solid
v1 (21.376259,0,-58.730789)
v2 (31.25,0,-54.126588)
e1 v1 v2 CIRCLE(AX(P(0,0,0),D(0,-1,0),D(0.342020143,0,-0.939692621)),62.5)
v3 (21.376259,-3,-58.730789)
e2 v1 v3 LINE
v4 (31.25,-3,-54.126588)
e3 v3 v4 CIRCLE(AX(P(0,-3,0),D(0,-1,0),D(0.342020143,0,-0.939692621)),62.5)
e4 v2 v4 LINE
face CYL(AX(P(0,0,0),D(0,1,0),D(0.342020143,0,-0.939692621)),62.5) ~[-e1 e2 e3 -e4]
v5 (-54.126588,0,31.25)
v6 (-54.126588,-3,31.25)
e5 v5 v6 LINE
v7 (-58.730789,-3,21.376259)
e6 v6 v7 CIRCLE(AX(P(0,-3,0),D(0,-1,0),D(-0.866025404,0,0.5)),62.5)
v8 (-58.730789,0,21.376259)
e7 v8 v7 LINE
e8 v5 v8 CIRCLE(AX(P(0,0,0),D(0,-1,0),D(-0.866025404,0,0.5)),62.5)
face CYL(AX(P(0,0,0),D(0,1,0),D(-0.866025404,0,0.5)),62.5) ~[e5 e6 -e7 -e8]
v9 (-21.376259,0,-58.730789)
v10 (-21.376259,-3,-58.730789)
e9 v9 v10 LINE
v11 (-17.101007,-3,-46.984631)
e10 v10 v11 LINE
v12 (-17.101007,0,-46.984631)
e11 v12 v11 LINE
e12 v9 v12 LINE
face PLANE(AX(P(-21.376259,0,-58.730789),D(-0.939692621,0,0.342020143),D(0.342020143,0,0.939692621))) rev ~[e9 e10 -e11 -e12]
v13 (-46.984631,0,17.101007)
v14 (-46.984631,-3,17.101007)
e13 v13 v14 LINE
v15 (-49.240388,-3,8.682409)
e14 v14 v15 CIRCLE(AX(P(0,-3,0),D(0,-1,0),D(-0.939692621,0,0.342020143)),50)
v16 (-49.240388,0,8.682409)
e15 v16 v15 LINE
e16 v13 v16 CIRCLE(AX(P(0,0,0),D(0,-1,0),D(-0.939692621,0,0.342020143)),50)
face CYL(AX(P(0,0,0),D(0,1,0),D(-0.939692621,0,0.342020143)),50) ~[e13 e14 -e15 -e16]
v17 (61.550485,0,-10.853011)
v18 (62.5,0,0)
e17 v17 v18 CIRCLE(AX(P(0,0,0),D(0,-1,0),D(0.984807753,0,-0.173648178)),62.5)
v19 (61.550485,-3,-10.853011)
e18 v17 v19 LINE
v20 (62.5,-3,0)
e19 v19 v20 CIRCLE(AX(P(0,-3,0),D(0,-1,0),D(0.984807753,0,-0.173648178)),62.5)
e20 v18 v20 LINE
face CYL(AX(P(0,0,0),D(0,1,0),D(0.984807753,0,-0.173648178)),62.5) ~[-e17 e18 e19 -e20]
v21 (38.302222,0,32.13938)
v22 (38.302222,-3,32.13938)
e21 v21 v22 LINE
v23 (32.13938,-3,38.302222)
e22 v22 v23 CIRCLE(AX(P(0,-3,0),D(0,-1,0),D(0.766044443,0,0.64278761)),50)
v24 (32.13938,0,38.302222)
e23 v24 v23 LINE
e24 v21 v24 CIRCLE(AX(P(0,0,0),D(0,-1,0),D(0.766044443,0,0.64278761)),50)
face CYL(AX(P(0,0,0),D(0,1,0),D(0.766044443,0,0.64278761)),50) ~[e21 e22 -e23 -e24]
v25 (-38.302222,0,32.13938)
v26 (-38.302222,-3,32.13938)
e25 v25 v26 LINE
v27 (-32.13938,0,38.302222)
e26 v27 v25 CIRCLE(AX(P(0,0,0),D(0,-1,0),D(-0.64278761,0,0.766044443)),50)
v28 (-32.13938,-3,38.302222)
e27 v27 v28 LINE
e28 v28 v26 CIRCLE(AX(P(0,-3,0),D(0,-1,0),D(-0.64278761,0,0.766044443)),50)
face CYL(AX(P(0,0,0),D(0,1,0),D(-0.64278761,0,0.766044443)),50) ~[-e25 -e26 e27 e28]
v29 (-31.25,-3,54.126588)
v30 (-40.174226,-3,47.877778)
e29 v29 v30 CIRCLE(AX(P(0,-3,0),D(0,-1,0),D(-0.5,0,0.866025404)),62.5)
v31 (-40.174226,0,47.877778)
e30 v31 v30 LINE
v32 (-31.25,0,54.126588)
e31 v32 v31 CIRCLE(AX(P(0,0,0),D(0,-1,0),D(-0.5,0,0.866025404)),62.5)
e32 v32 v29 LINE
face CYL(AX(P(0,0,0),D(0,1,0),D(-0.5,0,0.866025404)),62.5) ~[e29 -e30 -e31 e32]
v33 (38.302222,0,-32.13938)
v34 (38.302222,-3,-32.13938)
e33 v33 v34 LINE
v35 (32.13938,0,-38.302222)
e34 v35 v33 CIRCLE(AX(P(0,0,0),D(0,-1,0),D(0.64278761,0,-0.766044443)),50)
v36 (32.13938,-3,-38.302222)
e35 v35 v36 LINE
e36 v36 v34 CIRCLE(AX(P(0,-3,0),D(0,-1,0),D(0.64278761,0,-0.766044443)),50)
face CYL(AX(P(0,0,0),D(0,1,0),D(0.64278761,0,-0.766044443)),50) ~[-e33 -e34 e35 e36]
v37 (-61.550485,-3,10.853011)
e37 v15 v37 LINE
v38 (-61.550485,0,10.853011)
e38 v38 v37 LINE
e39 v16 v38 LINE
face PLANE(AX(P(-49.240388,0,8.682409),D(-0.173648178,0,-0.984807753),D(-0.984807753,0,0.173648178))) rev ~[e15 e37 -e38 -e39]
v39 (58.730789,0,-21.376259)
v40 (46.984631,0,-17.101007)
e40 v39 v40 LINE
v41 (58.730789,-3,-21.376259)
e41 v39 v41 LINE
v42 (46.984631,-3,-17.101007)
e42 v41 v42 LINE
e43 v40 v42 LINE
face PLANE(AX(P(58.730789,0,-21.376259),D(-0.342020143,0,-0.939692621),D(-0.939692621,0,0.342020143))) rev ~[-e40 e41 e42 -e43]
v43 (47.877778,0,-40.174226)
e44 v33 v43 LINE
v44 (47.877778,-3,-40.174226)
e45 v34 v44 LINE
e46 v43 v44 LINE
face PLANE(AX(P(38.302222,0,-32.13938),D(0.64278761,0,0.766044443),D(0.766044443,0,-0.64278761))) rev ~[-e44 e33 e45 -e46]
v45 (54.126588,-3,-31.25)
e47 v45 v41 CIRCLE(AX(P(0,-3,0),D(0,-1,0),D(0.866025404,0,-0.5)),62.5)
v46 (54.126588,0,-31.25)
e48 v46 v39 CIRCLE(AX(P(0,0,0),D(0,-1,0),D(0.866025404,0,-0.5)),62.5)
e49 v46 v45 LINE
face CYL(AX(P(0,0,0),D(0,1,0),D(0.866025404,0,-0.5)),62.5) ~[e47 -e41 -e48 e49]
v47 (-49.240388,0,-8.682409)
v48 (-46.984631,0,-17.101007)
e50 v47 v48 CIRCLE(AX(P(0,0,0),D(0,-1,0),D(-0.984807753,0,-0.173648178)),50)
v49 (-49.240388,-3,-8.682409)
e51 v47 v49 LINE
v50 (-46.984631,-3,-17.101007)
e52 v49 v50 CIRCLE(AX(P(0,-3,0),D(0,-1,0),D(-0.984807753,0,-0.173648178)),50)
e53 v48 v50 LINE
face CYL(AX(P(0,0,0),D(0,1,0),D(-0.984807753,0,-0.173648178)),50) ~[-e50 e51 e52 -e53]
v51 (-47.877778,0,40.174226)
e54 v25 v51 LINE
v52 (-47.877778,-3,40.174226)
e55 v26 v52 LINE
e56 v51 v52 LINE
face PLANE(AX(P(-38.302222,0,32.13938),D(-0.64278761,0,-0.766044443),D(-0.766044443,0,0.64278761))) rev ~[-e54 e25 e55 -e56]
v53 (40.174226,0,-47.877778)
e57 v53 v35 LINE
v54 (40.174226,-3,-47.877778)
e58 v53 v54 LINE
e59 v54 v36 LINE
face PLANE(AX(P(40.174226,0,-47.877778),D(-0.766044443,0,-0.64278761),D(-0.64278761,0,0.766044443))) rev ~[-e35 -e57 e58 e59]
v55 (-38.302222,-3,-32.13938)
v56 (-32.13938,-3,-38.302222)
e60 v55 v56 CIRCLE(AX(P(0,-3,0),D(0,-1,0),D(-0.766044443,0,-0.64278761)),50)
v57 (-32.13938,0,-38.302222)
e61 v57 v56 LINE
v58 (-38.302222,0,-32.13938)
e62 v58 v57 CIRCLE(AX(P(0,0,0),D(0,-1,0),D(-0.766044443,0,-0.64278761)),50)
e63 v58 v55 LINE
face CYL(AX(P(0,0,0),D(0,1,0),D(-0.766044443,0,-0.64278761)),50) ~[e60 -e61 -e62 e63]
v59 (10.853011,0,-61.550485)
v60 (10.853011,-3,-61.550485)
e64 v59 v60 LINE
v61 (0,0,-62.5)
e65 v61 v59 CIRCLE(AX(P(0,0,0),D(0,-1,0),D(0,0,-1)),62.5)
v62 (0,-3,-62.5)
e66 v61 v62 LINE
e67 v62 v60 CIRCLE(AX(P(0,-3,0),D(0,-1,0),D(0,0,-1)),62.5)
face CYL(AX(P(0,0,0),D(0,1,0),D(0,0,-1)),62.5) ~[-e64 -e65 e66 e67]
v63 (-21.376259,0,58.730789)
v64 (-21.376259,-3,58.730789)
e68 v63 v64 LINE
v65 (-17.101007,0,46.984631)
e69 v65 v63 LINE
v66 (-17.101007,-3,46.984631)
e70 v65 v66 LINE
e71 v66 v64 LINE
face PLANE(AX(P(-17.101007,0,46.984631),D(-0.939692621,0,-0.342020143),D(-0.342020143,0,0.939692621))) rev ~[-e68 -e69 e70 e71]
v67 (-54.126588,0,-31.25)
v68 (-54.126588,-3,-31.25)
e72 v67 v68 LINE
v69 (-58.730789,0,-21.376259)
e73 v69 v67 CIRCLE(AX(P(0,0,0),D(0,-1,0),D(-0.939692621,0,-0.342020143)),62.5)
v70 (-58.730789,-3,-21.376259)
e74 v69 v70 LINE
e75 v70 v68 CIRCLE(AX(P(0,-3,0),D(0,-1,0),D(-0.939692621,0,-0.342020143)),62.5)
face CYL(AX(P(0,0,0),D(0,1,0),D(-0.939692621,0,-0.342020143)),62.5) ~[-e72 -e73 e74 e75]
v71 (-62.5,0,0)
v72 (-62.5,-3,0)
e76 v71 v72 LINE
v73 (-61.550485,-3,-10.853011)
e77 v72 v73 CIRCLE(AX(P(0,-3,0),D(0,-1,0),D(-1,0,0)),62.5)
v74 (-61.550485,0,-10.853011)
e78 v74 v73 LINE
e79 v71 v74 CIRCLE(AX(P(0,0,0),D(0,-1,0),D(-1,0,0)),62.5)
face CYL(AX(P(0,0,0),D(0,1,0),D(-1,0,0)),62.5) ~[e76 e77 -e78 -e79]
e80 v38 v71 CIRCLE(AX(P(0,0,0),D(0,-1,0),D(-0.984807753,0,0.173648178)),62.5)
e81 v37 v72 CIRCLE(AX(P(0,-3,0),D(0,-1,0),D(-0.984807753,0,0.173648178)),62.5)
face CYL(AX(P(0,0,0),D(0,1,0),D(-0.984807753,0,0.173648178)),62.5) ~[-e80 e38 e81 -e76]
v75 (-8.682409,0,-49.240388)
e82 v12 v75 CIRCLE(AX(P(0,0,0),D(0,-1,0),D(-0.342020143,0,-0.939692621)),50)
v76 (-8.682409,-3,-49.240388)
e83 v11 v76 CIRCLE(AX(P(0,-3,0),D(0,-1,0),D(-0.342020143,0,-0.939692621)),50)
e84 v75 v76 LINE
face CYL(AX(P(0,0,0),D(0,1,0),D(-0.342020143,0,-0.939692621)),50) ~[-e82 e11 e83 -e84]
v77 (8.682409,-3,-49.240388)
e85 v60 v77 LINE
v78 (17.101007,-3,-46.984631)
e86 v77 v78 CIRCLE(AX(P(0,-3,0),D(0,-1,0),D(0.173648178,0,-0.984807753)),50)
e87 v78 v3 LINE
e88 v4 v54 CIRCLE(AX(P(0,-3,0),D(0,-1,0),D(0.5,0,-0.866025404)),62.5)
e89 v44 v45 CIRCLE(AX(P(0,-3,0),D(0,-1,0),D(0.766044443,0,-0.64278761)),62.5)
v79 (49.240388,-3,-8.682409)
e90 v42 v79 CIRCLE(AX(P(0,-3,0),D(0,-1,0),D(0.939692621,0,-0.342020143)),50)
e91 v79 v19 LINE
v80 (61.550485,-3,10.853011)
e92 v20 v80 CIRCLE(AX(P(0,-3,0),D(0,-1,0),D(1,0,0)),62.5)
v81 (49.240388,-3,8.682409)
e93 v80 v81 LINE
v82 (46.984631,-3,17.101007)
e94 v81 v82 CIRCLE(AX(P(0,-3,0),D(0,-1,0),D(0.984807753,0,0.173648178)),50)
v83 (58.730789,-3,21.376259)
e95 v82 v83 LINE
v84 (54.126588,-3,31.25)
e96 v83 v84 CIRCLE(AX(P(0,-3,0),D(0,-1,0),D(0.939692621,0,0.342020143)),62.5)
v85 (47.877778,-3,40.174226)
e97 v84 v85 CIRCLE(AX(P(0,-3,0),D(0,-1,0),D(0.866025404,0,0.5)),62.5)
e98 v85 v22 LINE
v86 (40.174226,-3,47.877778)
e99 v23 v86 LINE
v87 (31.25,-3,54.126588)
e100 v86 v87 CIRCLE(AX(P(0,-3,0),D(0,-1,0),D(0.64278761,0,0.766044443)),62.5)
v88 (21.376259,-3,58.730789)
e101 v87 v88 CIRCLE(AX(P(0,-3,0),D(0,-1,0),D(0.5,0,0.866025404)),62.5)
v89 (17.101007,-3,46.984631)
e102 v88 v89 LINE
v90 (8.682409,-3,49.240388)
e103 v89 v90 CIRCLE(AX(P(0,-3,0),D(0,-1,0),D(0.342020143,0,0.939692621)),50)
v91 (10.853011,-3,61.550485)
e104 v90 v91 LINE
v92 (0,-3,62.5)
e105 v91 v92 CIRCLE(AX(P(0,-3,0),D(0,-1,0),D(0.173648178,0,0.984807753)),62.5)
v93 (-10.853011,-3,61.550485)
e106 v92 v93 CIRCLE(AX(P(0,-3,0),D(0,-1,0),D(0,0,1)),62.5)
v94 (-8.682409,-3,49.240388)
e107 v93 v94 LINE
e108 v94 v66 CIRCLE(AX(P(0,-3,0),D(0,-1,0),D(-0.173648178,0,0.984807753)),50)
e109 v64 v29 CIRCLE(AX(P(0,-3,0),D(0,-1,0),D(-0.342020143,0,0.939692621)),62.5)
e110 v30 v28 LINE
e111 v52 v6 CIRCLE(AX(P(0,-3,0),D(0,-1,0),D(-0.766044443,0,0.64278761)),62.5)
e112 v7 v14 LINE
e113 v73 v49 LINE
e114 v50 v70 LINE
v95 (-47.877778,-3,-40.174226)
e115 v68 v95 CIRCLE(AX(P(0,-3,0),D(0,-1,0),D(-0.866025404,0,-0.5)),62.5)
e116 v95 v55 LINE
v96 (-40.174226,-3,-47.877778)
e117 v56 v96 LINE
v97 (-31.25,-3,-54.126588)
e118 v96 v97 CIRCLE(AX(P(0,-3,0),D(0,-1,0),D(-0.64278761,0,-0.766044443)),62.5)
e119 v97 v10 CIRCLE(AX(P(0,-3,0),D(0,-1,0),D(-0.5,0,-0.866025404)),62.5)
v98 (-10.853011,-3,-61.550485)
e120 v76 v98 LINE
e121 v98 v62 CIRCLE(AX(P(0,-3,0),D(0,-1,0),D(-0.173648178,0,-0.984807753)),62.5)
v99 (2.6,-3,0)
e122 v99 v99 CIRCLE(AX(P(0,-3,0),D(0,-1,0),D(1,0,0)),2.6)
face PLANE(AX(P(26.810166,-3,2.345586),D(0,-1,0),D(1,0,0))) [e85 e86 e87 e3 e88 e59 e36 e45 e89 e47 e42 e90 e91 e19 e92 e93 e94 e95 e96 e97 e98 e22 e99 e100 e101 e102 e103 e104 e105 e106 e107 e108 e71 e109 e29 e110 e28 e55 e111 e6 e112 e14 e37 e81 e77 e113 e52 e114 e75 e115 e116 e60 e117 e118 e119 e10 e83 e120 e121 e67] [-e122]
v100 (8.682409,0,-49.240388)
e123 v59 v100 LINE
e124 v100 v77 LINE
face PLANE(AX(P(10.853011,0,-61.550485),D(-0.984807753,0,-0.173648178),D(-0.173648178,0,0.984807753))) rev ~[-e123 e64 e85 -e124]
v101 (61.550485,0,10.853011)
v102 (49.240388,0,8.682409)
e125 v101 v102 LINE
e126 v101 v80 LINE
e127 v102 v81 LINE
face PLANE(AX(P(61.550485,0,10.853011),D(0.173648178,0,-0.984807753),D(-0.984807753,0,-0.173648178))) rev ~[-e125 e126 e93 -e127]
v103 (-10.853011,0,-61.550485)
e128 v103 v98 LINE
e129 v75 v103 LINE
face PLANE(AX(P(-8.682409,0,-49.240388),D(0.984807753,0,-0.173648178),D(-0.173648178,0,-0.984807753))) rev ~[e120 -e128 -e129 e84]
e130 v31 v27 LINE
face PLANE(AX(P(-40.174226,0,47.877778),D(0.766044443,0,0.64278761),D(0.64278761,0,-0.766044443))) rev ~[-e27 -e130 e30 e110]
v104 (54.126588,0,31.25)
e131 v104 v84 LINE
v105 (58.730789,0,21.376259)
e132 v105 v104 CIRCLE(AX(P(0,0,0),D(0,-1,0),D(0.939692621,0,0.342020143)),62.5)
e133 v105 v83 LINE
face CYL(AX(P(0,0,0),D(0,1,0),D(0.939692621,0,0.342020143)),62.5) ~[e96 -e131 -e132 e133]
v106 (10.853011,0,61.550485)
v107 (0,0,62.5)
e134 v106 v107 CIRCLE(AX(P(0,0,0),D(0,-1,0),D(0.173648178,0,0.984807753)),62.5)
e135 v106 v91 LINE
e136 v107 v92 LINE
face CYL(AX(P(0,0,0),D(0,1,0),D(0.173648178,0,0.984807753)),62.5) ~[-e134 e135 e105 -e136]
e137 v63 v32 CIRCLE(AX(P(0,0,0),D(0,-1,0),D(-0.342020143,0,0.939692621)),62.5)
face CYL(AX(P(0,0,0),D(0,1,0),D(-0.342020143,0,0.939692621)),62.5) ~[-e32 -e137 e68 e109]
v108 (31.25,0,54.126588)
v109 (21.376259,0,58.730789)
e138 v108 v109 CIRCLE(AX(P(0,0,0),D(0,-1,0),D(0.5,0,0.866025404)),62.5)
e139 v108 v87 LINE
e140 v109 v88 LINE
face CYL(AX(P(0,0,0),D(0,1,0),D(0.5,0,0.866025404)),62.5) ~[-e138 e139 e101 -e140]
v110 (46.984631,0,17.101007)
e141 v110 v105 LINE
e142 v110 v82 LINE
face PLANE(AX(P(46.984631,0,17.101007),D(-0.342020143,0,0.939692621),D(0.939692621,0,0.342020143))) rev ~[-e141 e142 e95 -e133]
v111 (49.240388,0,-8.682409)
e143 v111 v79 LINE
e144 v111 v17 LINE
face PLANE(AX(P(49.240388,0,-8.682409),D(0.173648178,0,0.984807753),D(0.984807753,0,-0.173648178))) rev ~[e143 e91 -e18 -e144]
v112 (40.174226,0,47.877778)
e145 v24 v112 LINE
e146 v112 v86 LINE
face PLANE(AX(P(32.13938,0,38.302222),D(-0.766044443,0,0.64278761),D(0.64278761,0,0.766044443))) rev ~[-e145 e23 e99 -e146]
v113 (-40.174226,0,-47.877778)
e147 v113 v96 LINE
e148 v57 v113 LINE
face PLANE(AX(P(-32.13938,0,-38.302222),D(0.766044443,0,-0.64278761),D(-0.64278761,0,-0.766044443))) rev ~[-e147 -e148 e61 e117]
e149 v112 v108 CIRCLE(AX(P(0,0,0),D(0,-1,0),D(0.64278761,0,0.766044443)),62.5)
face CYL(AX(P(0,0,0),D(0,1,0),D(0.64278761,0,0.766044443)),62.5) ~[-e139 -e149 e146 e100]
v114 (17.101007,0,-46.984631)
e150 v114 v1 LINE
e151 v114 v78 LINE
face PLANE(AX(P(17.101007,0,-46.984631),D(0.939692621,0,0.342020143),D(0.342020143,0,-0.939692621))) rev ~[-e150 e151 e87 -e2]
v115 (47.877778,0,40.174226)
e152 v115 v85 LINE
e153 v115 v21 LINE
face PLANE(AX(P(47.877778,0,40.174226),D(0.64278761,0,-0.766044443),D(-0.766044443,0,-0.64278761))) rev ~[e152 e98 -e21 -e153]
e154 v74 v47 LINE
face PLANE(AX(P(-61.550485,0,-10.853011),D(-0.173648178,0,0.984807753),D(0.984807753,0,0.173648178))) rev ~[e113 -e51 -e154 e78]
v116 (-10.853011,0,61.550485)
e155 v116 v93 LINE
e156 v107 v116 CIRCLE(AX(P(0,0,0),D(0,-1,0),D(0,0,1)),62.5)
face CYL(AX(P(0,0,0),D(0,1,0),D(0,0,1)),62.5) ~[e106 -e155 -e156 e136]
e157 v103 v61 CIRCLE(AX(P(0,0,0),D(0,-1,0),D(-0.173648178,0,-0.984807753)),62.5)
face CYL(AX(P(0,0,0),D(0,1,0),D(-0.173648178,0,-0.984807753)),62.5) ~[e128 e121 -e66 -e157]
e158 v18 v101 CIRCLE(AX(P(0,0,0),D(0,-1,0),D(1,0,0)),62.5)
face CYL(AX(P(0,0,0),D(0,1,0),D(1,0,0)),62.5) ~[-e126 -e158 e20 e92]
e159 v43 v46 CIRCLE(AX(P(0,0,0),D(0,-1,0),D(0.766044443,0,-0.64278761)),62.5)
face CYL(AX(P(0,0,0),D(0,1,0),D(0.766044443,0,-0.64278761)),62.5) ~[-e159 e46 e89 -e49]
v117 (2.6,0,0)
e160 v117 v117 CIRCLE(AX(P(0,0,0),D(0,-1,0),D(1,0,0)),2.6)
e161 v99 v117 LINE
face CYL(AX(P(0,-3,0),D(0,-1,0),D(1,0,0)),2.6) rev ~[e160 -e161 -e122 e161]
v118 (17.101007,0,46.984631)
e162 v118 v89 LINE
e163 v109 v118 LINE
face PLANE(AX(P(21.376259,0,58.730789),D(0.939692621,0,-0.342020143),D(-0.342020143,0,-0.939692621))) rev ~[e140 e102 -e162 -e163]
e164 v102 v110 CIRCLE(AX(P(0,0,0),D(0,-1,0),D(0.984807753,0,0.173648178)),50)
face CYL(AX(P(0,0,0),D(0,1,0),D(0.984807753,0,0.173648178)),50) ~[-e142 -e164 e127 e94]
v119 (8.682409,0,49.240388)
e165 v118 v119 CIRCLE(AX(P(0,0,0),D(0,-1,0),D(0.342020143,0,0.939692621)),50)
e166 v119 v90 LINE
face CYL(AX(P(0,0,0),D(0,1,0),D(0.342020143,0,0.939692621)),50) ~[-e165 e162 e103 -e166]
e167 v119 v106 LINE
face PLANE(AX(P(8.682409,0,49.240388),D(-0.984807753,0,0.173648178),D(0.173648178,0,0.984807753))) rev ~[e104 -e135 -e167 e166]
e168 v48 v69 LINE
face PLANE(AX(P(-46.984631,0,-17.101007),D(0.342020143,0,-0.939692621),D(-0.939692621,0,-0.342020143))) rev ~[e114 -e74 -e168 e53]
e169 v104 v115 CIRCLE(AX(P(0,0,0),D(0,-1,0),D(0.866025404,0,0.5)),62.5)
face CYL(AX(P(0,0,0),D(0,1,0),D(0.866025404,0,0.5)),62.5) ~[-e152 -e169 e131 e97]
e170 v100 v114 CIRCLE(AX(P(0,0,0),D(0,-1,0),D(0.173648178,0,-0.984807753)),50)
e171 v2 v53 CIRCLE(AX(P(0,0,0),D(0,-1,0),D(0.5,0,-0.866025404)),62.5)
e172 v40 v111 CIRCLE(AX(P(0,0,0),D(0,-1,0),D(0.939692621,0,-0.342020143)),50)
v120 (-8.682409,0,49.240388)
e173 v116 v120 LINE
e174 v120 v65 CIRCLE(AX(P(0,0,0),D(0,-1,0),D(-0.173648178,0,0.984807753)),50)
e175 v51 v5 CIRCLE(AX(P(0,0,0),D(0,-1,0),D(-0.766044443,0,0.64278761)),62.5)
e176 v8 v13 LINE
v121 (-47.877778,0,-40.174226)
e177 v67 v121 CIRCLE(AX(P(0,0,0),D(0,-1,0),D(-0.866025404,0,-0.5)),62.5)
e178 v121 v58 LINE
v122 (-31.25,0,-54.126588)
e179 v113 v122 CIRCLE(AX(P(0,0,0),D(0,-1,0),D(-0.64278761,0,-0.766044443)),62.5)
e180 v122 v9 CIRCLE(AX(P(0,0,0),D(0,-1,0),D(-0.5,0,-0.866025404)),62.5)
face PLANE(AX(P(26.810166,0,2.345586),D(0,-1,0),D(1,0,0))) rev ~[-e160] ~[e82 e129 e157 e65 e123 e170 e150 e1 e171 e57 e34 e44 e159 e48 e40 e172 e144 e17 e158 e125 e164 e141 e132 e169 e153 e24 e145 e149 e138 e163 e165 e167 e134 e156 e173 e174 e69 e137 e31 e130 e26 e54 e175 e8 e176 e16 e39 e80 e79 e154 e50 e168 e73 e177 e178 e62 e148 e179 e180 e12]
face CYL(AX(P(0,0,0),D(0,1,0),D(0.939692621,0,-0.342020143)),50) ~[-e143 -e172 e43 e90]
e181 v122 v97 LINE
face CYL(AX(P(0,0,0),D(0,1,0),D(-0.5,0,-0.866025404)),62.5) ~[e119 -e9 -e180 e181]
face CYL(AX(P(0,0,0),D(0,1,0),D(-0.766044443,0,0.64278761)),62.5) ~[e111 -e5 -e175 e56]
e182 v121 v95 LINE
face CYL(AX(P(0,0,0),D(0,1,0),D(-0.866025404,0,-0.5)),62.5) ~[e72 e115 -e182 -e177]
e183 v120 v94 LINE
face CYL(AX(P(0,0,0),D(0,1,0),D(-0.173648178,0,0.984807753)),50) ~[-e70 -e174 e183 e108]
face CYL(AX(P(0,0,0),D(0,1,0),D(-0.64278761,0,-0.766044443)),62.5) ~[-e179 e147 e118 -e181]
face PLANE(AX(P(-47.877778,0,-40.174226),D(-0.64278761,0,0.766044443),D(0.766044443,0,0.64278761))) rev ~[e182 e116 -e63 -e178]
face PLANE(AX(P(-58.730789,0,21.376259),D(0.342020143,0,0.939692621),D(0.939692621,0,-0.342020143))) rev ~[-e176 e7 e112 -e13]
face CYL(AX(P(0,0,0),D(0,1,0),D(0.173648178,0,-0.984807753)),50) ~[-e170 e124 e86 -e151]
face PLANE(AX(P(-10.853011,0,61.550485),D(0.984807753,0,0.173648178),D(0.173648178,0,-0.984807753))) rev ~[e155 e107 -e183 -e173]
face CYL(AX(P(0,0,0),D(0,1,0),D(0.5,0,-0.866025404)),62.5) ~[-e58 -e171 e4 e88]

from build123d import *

# Parameters (mm, degrees)
F1_DEPTH = 3
F2_R     = 2.6
F3_DEPTH = 3.001


with BuildPart() as f1:
    # F0 (on Front) → F1 (new body)
    with BuildSketch(Plane.XZ):
        with BuildLine():
            Line((0, 0), (50, 0))
            ThreePointArc((50, 0), (49.8097349046, 4.3577871374), (49.2403876506, 8.6824088833))
            Line((49.2403876506, 8.6824088833), (0, 0))
        make_face()
        with BuildLine():
            Line((62.5, 0), (50, 0))
            ThreePointArc((50, 0), (49.8097349046, -4.3577871374), (49.2403876506, -8.6824088833))
            Line((49.2403876506, -8.6824088833), (61.5504845633, -10.8530111042))
            ThreePointArc((61.5504845633, -10.8530111042), (62.2621686307, -5.4472339217), (62.5, 0))
        make_face()
        with BuildLine():
            ThreePointArc((49.2403876506, -8.6824088833), (49.8097349046, -4.3577871374), (50, 0))
            Line((50, 0), (0, 0))
            Line((0, 0), (49.2403876506, -8.6824088833))
        make_face()
        with BuildLine():
            ThreePointArc((49.2403876506, 8.6824088833), (49.8097349046, 4.3577871374), (50, 0))
            Line((50, 0), (62.5, 0))
            ThreePointArc((62.5, 0), (62.2621686307, 5.4472339217), (61.5504845633, 10.8530111042))
            Line((61.5504845633, 10.8530111042), (49.2403876506, 8.6824088833))
        make_face()
        with BuildLine():
            Line((0, 0), (49.2403876506, 8.6824088833))
            ThreePointArc((49.2403876506, 8.6824088833), (48.2962913145, 12.9409522551), (46.9846310393, 17.1010071663))
            Line((46.9846310393, 17.1010071663), (0, 0))
        make_face()
        with BuildLine():
            ThreePointArc((46.9846310393, -17.1010071663), (48.2962913145, -12.9409522551), (49.2403876506, -8.6824088833))
            Line((49.2403876506, -8.6824088833), (0, 0))
            Line((0, 0), (46.9846310393, -17.1010071663))
        make_face()
        with BuildLine():
            Line((-8.6824088833, 49.2403876506), (0, 0))
            Line((0, 0), (0, 50))
            ThreePointArc((0, 50), (-4.3577871374, 49.8097349046), (-8.6824088833, 49.2403876506))
        make_face()
        with BuildLine():
            Line((8.6824088833, -49.2403876506), (0, 0))
            Line((0, 0), (0, -50))
            ThreePointArc((0, -50), (4.3577871374, -49.8097349046), (8.6824088833, -49.2403876506))
        make_face()
        with BuildLine():
            Line((-49.2403876506, -8.6824088833), (0, 0))
            Line((0, 0), (-50, 0))
            ThreePointArc((-50, 0), (-49.8097349046, -4.3577871374), (-49.2403876506, -8.6824088833))
        make_face()
        with BuildLine():
            Line((17.1010071663, 46.9846310393), (0, 0))
            Line((0, 0), (25, 43.3012701892))
            ThreePointArc((25, 43.3012701892), (21.130913087, 45.3153893518), (17.1010071663, 46.9846310393))
        make_face()
        with BuildLine():
            Line((38.3022221559, 32.1393804843), (0, 0))
            Line((0, 0), (43.3012701892, 25))
            ThreePointArc((43.3012701892, 25), (40.9576022144, 28.6788218176), (38.3022221559, 32.1393804843))
        make_face()
        with BuildLine():
            Line((46.9846310393, -17.1010071663), (0, 0))
            Line((0, 0), (43.3012701892, -25))
            ThreePointArc((43.3012701892, -25), (45.3153893518, -21.130913087), (46.9846310393, -17.1010071663))
        make_face()
        with BuildLine():
            Line((32.1393804843, -38.3022221559), (0, 0))
            Line((0, 0), (25, -43.3012701892))
            ThreePointArc((25, -43.3012701892), (28.6788218176, -40.9576022144), (32.1393804843, -38.3022221559))
        make_face()
        with BuildLine():
            Line((-32.1393804843, 38.3022221559), (0, 0))
            Line((0, 0), (-25, 43.3012701892))
            ThreePointArc((-25, 43.3012701892), (-28.6788218176, 40.9576022144), (-32.1393804843, 38.3022221559))
        make_face()
        with BuildLine():
            Line((-46.9846310393, 17.1010071663), (0, 0))
            Line((0, 0), (-43.3012701892, 25))
            ThreePointArc((-43.3012701892, 25), (-45.3153893518, 21.130913087), (-46.9846310393, 17.1010071663))
        make_face()
        with BuildLine():
            Line((-38.3022221559, -32.1393804843), (0, 0))
            Line((0, 0), (-43.3012701892, -25))
            ThreePointArc((-43.3012701892, -25), (-40.9576022144, -28.6788218176), (-38.3022221559, -32.1393804843))
        make_face()
        with BuildLine():
            Line((-17.1010071663, -46.9846310393), (0, 0))
            Line((0, 0), (-25, -43.3012701892))
            ThreePointArc((-25, -43.3012701892), (-21.130913087, -45.3153893518), (-17.1010071663, -46.9846310393))
        make_face()
        with BuildLine():
            Line((-17.1010071663, 46.9846310393), (0, 0))
            Line((0, 0), (-8.6824088833, 49.2403876506))
            ThreePointArc((-8.6824088833, 49.2403876506), (-12.9409522551, 48.2962913145), (-17.1010071663, 46.9846310393))
        make_face()
        with BuildLine():
            Line((0, 50), (0, 0))
            Line((0, 0), (8.6824088833, 49.2403876506))
            ThreePointArc((8.6824088833, 49.2403876506), (4.3577871374, 49.8097349046), (0, 50))
        make_face()
        with BuildLine():
            Line((8.6824088833, 49.2403876506), (0, 0))
            Line((0, 0), (17.1010071663, 46.9846310393))
            ThreePointArc((17.1010071663, 46.9846310393), (12.9409522551, 48.2962913145), (8.6824088833, 49.2403876506))
        make_face()
        with BuildLine():
            Line((25, 43.3012701892), (0, 0))
            Line((0, 0), (32.1393804843, 38.3022221559))
            ThreePointArc((32.1393804843, 38.3022221559), (28.6788218176, 40.9576022144), (25, 43.3012701892))
        make_face()
        with BuildLine():
            Line((32.1393804843, 38.3022221559), (0, 0))
            Line((0, 0), (38.3022221559, 32.1393804843))
            ThreePointArc((38.3022221559, 32.1393804843), (35.3553390593, 35.3553390593), (32.1393804843, 38.3022221559))
        make_face()
        with BuildLine():
            Line((43.3012701892, 25), (0, 0))
            Line((0, 0), (46.9846310393, 17.1010071663))
            ThreePointArc((46.9846310393, 17.1010071663), (45.3153893518, 21.130913087), (43.3012701892, 25))
        make_face()
        with BuildLine():
            Line((43.3012701892, -25), (0, 0))
            Line((0, 0), (38.3022221559, -32.1393804843))
            ThreePointArc((38.3022221559, -32.1393804843), (40.9576022144, -28.6788218176), (43.3012701892, -25))
        make_face()
        with BuildLine():
            Line((38.3022221559, -32.1393804843), (0, 0))
            Line((0, 0), (32.1393804843, -38.3022221559))
            ThreePointArc((32.1393804843, -38.3022221559), (35.3553390593, -35.3553390593), (38.3022221559, -32.1393804843))
        make_face()
        with BuildLine():
            Line((25, -43.3012701892), (0, 0))
            Line((0, 0), (17.1010071663, -46.9846310393))
            ThreePointArc((17.1010071663, -46.9846310393), (21.130913087, -45.3153893518), (25, -43.3012701892))
        make_face()
        with BuildLine():
            Line((17.1010071663, -46.9846310393), (0, 0))
            Line((0, 0), (8.6824088833, -49.2403876506))
            ThreePointArc((8.6824088833, -49.2403876506), (12.9409522551, -48.2962913145), (17.1010071663, -46.9846310393))
        make_face()
        with BuildLine():
            Line((0, -50), (0, 0))
            Line((0, 0), (-8.6824088833, -49.2403876506))
            ThreePointArc((-8.6824088833, -49.2403876506), (-4.3577871374, -49.8097349046), (0, -50))
        make_face()
        with BuildLine():
            Line((-8.6824088833, -49.2403876506), (0, 0))
            Line((0, 0), (-17.1010071663, -46.9846310393))
            ThreePointArc((-17.1010071663, -46.9846310393), (-12.9409522551, -48.2962913145), (-8.6824088833, -49.2403876506))
        make_face()
        with BuildLine():
            Line((-25, -43.3012701892), (0, 0))
            Line((0, 0), (-32.1393804843, -38.3022221559))
            ThreePointArc((-32.1393804843, -38.3022221559), (-28.6788218176, -40.9576022144), (-25, -43.3012701892))
        make_face()
        with BuildLine():
            Line((-32.1393804843, -38.3022221559), (0, 0))
            Line((0, 0), (-38.3022221559, -32.1393804843))
            ThreePointArc((-38.3022221559, -32.1393804843), (-35.3553390593, -35.3553390593), (-32.1393804843, -38.3022221559))
        make_face()
        with BuildLine():
            Line((-43.3012701892, -25), (0, 0))
            Line((0, 0), (-46.9846310393, -17.1010071663))
            ThreePointArc((-46.9846310393, -17.1010071663), (-45.3153893518, -21.130913087), (-43.3012701892, -25))
        make_face()
        with BuildLine():
            Line((-46.9846310393, -17.1010071663), (0, 0))
            Line((0, 0), (-49.2403876506, -8.6824088833))
            ThreePointArc((-49.2403876506, -8.6824088833), (-48.2962913145, -12.9409522551), (-46.9846310393, -17.1010071663))
        make_face()
        with BuildLine():
            Line((-49.2403876506, 8.6824088833), (0, 0))
            Line((0, 0), (-46.9846310393, 17.1010071663))
            ThreePointArc((-46.9846310393, 17.1010071663), (-48.2962913145, 12.9409522551), (-49.2403876506, 8.6824088833))
        make_face()
        with BuildLine():
            Line((-43.3012701892, 25), (0, 0))
            Line((0, 0), (-38.3022221559, 32.1393804843))
            ThreePointArc((-38.3022221559, 32.1393804843), (-40.9576022144, 28.6788218176), (-43.3012701892, 25))
        make_face()
        with BuildLine():
            Line((-38.3022221559, 32.1393804843), (0, 0))
            Line((0, 0), (-32.1393804843, 38.3022221559))
            ThreePointArc((-32.1393804843, 38.3022221559), (-35.3553390593, 35.3553390593), (-38.3022221559, 32.1393804843))
        make_face()
        with BuildLine():
            Line((-25, 43.3012701892), (0, 0))
            Line((0, 0), (-17.1010071663, 46.9846310393))
            ThreePointArc((-17.1010071663, 46.9846310393), (-21.130913087, 45.3153893518), (-25, 43.3012701892))
        make_face()
        with BuildLine():
            Line((-50, 0), (0, 0))
            Line((0, 0), (-49.2403876506, 8.6824088833))
            ThreePointArc((-49.2403876506, 8.6824088833), (-49.8097349046, 4.3577871374), (-50, 0))
        make_face()
        with BuildLine():
            ThreePointArc((43.3012701892, 25), (45.3153893518, 21.130913087), (46.9846310393, 17.1010071663))
            Line((46.9846310393, 17.1010071663), (58.7307887991, 21.3762589579))
            ThreePointArc((58.7307887991, 21.3762589579), (56.6442366898, 26.4136413588), (54.1265877365, 31.25))
            Line((54.1265877365, 31.25), (43.3012701892, 25))
        make_face()
        with BuildLine():
            Line((58.7307887991, -21.3762589579), (46.9846310393, -17.1010071663))
            ThreePointArc((46.9846310393, -17.1010071663), (45.3153893518, -21.130913087), (43.3012701892, -25))
            Line((43.3012701892, -25), (54.1265877365, -31.25))
            ThreePointArc((54.1265877365, -31.25), (56.6442366898, -26.4136413588), (58.7307887991, -21.3762589579))
        make_face()
        with BuildLine():
            Line((0, 62.5), (0, 50))
            ThreePointArc((0, 50), (4.3577871374, 49.8097349046), (8.6824088833, 49.2403876506))
            Line((8.6824088833, 49.2403876506), (10.8530111042, 61.5504845633))
            ThreePointArc((10.8530111042, 61.5504845633), (5.4472339217, 62.2621686307), (0, 62.5))
        make_face()
        with BuildLine():
            ThreePointArc((-8.6824088833, 49.2403876506), (-4.3577871374, 49.8097349046), (0, 50))
            Line((0, 50), (0, 62.5))
            ThreePointArc((0, 62.5), (-5.4472339217, 62.2621686307), (-10.8530111042, 61.5504845633))
            Line((-10.8530111042, 61.5504845633), (-8.6824088833, 49.2403876506))
        make_face()
        with BuildLine():
            Line((0, -62.5), (0, -50))
            ThreePointArc((0, -50), (-4.3577871374, -49.8097349046), (-8.6824088833, -49.2403876506))
            Line((-8.6824088833, -49.2403876506), (-10.8530111042, -61.5504845633))
            ThreePointArc((-10.8530111042, -61.5504845633), (-5.4472339217, -62.2621686307), (0, -62.5))
        make_face()
        with BuildLine():
            ThreePointArc((8.6824088833, -49.2403876506), (4.3577871374, -49.8097349046), (0, -50))
            Line((0, -50), (0, -62.5))
            ThreePointArc((0, -62.5), (5.4472339217, -62.2621686307), (10.8530111042, -61.5504845633))
            Line((10.8530111042, -61.5504845633), (8.6824088833, -49.2403876506))
        make_face()
        with BuildLine():
            Line((-62.5, 0), (-50, 0))
            ThreePointArc((-50, 0), (-49.8097349046, 4.3577871374), (-49.2403876506, 8.6824088833))
            Line((-49.2403876506, 8.6824088833), (-61.5504845633, 10.8530111042))
            ThreePointArc((-61.5504845633, 10.8530111042), (-62.2621686307, 5.4472339217), (-62.5, 0))
        make_face()
        with BuildLine():
            ThreePointArc((-49.2403876506, -8.6824088833), (-49.8097349046, -4.3577871374), (-50, 0))
            Line((-50, 0), (-62.5, 0))
            ThreePointArc((-62.5, 0), (-62.2621686307, -5.4472339217), (-61.5504845633, -10.8530111042))
            Line((-61.5504845633, -10.8530111042), (-49.2403876506, -8.6824088833))
        make_face()
        with BuildLine():
            Line((31.25, 54.1265877365), (25, 43.3012701892))
            ThreePointArc((25, 43.3012701892), (28.6788218176, 40.9576022144), (32.1393804843, 38.3022221559))
            Line((32.1393804843, 38.3022221559), (40.1742256054, 47.8777776949))
            ThreePointArc((40.1742256054, 47.8777776949), (35.8485272719, 51.1970027681), (31.25, 54.1265877365))
        make_face()
        with BuildLine():
            ThreePointArc((17.1010071663, 46.9846310393), (21.130913087, 45.3153893518), (25, 43.3012701892))
            Line((25, 43.3012701892), (31.25, 54.1265877365))
            ThreePointArc((31.25, 54.1265877365), (26.4136413588, 56.6442366898), (21.3762589579, 58.7307887991))
            Line((21.3762589579, 58.7307887991), (17.1010071663, 46.9846310393))
        make_face()
        with BuildLine():
            ThreePointArc((38.3022221559, 32.1393804843), (40.9576022144, 28.6788218176), (43.3012701892, 25))
            Line((43.3012701892, 25), (54.1265877365, 31.25))
            ThreePointArc((54.1265877365, 31.25), (51.1970027681, 35.8485272719), (47.8777776949, 40.1742256054))
            Line((47.8777776949, 40.1742256054), (38.3022221559, 32.1393804843))
        make_face()
        with BuildLine():
            Line((54.1265877365, -31.25), (43.3012701892, -25))
            ThreePointArc((43.3012701892, -25), (40.9576022144, -28.6788218176), (38.3022221559, -32.1393804843))
            Line((38.3022221559, -32.1393804843), (47.8777776949, -40.1742256054))
            ThreePointArc((47.8777776949, -40.1742256054), (51.1970027681, -35.8485272719), (54.1265877365, -31.25))
        make_face()
        with BuildLine():
            Line((31.25, -54.1265877365), (25, -43.3012701892))
            ThreePointArc((25, -43.3012701892), (21.130913087, -45.3153893518), (17.1010071663, -46.9846310393))
            Line((17.1010071663, -46.9846310393), (21.3762589579, -58.7307887991))
            ThreePointArc((21.3762589579, -58.7307887991), (26.4136413588, -56.6442366898), (31.25, -54.1265877365))
        make_face()
        with BuildLine():
            ThreePointArc((32.1393804843, -38.3022221559), (28.6788218176, -40.9576022144), (25, -43.3012701892))
            Line((25, -43.3012701892), (31.25, -54.1265877365))
            ThreePointArc((31.25, -54.1265877365), (35.8485272719, -51.1970027681), (40.1742256054, -47.8777776949))
            Line((40.1742256054, -47.8777776949), (32.1393804843, -38.3022221559))
        make_face()
        with BuildLine():
            Line((-31.25, 54.1265877365), (-25, 43.3012701892))
            ThreePointArc((-25, 43.3012701892), (-21.130913087, 45.3153893518), (-17.1010071663, 46.9846310393))
            Line((-17.1010071663, 46.9846310393), (-21.3762589579, 58.7307887991))
            ThreePointArc((-21.3762589579, 58.7307887991), (-26.4136413588, 56.6442366898), (-31.25, 54.1265877365))
        make_face()
        with BuildLine():
            ThreePointArc((-32.1393804843, 38.3022221559), (-28.6788218176, 40.9576022144), (-25, 43.3012701892))
            Line((-25, 43.3012701892), (-31.25, 54.1265877365))
            ThreePointArc((-31.25, 54.1265877365), (-35.8485272719, 51.1970027681), (-40.1742256054, 47.8777776949))
            Line((-40.1742256054, 47.8777776949), (-32.1393804843, 38.3022221559))
        make_face()
        with BuildLine():
            Line((-54.1265877365, 31.25), (-43.3012701892, 25))
            ThreePointArc((-43.3012701892, 25), (-40.9576022144, 28.6788218176), (-38.3022221559, 32.1393804843))
            Line((-38.3022221559, 32.1393804843), (-47.8777776949, 40.1742256054))
            ThreePointArc((-47.8777776949, 40.1742256054), (-51.1970027681, 35.8485272719), (-54.1265877365, 31.25))
        make_face()
        with BuildLine():
            ThreePointArc((-46.9846310393, 17.1010071663), (-45.3153893518, 21.130913087), (-43.3012701892, 25))
            Line((-43.3012701892, 25), (-54.1265877365, 31.25))
            ThreePointArc((-54.1265877365, 31.25), (-56.6442366898, 26.4136413588), (-58.7307887991, 21.3762589579))
            Line((-58.7307887991, 21.3762589579), (-46.9846310393, 17.1010071663))
        make_face()
        with BuildLine():
            Line((-54.1265877365, -31.25), (-43.3012701892, -25))
            ThreePointArc((-43.3012701892, -25), (-45.3153893518, -21.130913087), (-46.9846310393, -17.1010071663))
            Line((-46.9846310393, -17.1010071663), (-58.7307887991, -21.3762589579))
            ThreePointArc((-58.7307887991, -21.3762589579), (-56.6442366898, -26.4136413588), (-54.1265877365, -31.25))
        make_face()
        with BuildLine():
            ThreePointArc((-38.3022221559, -32.1393804843), (-40.9576022144, -28.6788218176), (-43.3012701892, -25))
            Line((-43.3012701892, -25), (-54.1265877365, -31.25))
            ThreePointArc((-54.1265877365, -31.25), (-51.1970027681, -35.8485272719), (-47.8777776949, -40.1742256054))
            Line((-47.8777776949, -40.1742256054), (-38.3022221559, -32.1393804843))
        make_face()
        with BuildLine():
            Line((-31.25, -54.1265877365), (-25, -43.3012701892))
            ThreePointArc((-25, -43.3012701892), (-28.6788218176, -40.9576022144), (-32.1393804843, -38.3022221559))
            Line((-32.1393804843, -38.3022221559), (-40.1742256054, -47.8777776949))
            ThreePointArc((-40.1742256054, -47.8777776949), (-35.8485272719, -51.1970027681), (-31.25, -54.1265877365))
        make_face()
        with BuildLine():
            ThreePointArc((-17.1010071663, -46.9846310393), (-21.130913087, -45.3153893518), (-25, -43.3012701892))
            Line((-25, -43.3012701892), (-31.25, -54.1265877365))
            ThreePointArc((-31.25, -54.1265877365), (-26.4136413588, -56.6442366898), (-21.3762589579, -58.7307887991))
            Line((-21.3762589579, -58.7307887991), (-17.1010071663, -46.9846310393))
        make_face()
    extrude(amount=F1_DEPTH)

    # F2 (on face) → F3 (cut, through all)
    with BuildSketch(Plane.XZ.offset(3)):
        Circle(F2_R)
    extrude(amount=-F3_DEPTH, mode=Mode.SUBTRACT)


solid = f1.part
